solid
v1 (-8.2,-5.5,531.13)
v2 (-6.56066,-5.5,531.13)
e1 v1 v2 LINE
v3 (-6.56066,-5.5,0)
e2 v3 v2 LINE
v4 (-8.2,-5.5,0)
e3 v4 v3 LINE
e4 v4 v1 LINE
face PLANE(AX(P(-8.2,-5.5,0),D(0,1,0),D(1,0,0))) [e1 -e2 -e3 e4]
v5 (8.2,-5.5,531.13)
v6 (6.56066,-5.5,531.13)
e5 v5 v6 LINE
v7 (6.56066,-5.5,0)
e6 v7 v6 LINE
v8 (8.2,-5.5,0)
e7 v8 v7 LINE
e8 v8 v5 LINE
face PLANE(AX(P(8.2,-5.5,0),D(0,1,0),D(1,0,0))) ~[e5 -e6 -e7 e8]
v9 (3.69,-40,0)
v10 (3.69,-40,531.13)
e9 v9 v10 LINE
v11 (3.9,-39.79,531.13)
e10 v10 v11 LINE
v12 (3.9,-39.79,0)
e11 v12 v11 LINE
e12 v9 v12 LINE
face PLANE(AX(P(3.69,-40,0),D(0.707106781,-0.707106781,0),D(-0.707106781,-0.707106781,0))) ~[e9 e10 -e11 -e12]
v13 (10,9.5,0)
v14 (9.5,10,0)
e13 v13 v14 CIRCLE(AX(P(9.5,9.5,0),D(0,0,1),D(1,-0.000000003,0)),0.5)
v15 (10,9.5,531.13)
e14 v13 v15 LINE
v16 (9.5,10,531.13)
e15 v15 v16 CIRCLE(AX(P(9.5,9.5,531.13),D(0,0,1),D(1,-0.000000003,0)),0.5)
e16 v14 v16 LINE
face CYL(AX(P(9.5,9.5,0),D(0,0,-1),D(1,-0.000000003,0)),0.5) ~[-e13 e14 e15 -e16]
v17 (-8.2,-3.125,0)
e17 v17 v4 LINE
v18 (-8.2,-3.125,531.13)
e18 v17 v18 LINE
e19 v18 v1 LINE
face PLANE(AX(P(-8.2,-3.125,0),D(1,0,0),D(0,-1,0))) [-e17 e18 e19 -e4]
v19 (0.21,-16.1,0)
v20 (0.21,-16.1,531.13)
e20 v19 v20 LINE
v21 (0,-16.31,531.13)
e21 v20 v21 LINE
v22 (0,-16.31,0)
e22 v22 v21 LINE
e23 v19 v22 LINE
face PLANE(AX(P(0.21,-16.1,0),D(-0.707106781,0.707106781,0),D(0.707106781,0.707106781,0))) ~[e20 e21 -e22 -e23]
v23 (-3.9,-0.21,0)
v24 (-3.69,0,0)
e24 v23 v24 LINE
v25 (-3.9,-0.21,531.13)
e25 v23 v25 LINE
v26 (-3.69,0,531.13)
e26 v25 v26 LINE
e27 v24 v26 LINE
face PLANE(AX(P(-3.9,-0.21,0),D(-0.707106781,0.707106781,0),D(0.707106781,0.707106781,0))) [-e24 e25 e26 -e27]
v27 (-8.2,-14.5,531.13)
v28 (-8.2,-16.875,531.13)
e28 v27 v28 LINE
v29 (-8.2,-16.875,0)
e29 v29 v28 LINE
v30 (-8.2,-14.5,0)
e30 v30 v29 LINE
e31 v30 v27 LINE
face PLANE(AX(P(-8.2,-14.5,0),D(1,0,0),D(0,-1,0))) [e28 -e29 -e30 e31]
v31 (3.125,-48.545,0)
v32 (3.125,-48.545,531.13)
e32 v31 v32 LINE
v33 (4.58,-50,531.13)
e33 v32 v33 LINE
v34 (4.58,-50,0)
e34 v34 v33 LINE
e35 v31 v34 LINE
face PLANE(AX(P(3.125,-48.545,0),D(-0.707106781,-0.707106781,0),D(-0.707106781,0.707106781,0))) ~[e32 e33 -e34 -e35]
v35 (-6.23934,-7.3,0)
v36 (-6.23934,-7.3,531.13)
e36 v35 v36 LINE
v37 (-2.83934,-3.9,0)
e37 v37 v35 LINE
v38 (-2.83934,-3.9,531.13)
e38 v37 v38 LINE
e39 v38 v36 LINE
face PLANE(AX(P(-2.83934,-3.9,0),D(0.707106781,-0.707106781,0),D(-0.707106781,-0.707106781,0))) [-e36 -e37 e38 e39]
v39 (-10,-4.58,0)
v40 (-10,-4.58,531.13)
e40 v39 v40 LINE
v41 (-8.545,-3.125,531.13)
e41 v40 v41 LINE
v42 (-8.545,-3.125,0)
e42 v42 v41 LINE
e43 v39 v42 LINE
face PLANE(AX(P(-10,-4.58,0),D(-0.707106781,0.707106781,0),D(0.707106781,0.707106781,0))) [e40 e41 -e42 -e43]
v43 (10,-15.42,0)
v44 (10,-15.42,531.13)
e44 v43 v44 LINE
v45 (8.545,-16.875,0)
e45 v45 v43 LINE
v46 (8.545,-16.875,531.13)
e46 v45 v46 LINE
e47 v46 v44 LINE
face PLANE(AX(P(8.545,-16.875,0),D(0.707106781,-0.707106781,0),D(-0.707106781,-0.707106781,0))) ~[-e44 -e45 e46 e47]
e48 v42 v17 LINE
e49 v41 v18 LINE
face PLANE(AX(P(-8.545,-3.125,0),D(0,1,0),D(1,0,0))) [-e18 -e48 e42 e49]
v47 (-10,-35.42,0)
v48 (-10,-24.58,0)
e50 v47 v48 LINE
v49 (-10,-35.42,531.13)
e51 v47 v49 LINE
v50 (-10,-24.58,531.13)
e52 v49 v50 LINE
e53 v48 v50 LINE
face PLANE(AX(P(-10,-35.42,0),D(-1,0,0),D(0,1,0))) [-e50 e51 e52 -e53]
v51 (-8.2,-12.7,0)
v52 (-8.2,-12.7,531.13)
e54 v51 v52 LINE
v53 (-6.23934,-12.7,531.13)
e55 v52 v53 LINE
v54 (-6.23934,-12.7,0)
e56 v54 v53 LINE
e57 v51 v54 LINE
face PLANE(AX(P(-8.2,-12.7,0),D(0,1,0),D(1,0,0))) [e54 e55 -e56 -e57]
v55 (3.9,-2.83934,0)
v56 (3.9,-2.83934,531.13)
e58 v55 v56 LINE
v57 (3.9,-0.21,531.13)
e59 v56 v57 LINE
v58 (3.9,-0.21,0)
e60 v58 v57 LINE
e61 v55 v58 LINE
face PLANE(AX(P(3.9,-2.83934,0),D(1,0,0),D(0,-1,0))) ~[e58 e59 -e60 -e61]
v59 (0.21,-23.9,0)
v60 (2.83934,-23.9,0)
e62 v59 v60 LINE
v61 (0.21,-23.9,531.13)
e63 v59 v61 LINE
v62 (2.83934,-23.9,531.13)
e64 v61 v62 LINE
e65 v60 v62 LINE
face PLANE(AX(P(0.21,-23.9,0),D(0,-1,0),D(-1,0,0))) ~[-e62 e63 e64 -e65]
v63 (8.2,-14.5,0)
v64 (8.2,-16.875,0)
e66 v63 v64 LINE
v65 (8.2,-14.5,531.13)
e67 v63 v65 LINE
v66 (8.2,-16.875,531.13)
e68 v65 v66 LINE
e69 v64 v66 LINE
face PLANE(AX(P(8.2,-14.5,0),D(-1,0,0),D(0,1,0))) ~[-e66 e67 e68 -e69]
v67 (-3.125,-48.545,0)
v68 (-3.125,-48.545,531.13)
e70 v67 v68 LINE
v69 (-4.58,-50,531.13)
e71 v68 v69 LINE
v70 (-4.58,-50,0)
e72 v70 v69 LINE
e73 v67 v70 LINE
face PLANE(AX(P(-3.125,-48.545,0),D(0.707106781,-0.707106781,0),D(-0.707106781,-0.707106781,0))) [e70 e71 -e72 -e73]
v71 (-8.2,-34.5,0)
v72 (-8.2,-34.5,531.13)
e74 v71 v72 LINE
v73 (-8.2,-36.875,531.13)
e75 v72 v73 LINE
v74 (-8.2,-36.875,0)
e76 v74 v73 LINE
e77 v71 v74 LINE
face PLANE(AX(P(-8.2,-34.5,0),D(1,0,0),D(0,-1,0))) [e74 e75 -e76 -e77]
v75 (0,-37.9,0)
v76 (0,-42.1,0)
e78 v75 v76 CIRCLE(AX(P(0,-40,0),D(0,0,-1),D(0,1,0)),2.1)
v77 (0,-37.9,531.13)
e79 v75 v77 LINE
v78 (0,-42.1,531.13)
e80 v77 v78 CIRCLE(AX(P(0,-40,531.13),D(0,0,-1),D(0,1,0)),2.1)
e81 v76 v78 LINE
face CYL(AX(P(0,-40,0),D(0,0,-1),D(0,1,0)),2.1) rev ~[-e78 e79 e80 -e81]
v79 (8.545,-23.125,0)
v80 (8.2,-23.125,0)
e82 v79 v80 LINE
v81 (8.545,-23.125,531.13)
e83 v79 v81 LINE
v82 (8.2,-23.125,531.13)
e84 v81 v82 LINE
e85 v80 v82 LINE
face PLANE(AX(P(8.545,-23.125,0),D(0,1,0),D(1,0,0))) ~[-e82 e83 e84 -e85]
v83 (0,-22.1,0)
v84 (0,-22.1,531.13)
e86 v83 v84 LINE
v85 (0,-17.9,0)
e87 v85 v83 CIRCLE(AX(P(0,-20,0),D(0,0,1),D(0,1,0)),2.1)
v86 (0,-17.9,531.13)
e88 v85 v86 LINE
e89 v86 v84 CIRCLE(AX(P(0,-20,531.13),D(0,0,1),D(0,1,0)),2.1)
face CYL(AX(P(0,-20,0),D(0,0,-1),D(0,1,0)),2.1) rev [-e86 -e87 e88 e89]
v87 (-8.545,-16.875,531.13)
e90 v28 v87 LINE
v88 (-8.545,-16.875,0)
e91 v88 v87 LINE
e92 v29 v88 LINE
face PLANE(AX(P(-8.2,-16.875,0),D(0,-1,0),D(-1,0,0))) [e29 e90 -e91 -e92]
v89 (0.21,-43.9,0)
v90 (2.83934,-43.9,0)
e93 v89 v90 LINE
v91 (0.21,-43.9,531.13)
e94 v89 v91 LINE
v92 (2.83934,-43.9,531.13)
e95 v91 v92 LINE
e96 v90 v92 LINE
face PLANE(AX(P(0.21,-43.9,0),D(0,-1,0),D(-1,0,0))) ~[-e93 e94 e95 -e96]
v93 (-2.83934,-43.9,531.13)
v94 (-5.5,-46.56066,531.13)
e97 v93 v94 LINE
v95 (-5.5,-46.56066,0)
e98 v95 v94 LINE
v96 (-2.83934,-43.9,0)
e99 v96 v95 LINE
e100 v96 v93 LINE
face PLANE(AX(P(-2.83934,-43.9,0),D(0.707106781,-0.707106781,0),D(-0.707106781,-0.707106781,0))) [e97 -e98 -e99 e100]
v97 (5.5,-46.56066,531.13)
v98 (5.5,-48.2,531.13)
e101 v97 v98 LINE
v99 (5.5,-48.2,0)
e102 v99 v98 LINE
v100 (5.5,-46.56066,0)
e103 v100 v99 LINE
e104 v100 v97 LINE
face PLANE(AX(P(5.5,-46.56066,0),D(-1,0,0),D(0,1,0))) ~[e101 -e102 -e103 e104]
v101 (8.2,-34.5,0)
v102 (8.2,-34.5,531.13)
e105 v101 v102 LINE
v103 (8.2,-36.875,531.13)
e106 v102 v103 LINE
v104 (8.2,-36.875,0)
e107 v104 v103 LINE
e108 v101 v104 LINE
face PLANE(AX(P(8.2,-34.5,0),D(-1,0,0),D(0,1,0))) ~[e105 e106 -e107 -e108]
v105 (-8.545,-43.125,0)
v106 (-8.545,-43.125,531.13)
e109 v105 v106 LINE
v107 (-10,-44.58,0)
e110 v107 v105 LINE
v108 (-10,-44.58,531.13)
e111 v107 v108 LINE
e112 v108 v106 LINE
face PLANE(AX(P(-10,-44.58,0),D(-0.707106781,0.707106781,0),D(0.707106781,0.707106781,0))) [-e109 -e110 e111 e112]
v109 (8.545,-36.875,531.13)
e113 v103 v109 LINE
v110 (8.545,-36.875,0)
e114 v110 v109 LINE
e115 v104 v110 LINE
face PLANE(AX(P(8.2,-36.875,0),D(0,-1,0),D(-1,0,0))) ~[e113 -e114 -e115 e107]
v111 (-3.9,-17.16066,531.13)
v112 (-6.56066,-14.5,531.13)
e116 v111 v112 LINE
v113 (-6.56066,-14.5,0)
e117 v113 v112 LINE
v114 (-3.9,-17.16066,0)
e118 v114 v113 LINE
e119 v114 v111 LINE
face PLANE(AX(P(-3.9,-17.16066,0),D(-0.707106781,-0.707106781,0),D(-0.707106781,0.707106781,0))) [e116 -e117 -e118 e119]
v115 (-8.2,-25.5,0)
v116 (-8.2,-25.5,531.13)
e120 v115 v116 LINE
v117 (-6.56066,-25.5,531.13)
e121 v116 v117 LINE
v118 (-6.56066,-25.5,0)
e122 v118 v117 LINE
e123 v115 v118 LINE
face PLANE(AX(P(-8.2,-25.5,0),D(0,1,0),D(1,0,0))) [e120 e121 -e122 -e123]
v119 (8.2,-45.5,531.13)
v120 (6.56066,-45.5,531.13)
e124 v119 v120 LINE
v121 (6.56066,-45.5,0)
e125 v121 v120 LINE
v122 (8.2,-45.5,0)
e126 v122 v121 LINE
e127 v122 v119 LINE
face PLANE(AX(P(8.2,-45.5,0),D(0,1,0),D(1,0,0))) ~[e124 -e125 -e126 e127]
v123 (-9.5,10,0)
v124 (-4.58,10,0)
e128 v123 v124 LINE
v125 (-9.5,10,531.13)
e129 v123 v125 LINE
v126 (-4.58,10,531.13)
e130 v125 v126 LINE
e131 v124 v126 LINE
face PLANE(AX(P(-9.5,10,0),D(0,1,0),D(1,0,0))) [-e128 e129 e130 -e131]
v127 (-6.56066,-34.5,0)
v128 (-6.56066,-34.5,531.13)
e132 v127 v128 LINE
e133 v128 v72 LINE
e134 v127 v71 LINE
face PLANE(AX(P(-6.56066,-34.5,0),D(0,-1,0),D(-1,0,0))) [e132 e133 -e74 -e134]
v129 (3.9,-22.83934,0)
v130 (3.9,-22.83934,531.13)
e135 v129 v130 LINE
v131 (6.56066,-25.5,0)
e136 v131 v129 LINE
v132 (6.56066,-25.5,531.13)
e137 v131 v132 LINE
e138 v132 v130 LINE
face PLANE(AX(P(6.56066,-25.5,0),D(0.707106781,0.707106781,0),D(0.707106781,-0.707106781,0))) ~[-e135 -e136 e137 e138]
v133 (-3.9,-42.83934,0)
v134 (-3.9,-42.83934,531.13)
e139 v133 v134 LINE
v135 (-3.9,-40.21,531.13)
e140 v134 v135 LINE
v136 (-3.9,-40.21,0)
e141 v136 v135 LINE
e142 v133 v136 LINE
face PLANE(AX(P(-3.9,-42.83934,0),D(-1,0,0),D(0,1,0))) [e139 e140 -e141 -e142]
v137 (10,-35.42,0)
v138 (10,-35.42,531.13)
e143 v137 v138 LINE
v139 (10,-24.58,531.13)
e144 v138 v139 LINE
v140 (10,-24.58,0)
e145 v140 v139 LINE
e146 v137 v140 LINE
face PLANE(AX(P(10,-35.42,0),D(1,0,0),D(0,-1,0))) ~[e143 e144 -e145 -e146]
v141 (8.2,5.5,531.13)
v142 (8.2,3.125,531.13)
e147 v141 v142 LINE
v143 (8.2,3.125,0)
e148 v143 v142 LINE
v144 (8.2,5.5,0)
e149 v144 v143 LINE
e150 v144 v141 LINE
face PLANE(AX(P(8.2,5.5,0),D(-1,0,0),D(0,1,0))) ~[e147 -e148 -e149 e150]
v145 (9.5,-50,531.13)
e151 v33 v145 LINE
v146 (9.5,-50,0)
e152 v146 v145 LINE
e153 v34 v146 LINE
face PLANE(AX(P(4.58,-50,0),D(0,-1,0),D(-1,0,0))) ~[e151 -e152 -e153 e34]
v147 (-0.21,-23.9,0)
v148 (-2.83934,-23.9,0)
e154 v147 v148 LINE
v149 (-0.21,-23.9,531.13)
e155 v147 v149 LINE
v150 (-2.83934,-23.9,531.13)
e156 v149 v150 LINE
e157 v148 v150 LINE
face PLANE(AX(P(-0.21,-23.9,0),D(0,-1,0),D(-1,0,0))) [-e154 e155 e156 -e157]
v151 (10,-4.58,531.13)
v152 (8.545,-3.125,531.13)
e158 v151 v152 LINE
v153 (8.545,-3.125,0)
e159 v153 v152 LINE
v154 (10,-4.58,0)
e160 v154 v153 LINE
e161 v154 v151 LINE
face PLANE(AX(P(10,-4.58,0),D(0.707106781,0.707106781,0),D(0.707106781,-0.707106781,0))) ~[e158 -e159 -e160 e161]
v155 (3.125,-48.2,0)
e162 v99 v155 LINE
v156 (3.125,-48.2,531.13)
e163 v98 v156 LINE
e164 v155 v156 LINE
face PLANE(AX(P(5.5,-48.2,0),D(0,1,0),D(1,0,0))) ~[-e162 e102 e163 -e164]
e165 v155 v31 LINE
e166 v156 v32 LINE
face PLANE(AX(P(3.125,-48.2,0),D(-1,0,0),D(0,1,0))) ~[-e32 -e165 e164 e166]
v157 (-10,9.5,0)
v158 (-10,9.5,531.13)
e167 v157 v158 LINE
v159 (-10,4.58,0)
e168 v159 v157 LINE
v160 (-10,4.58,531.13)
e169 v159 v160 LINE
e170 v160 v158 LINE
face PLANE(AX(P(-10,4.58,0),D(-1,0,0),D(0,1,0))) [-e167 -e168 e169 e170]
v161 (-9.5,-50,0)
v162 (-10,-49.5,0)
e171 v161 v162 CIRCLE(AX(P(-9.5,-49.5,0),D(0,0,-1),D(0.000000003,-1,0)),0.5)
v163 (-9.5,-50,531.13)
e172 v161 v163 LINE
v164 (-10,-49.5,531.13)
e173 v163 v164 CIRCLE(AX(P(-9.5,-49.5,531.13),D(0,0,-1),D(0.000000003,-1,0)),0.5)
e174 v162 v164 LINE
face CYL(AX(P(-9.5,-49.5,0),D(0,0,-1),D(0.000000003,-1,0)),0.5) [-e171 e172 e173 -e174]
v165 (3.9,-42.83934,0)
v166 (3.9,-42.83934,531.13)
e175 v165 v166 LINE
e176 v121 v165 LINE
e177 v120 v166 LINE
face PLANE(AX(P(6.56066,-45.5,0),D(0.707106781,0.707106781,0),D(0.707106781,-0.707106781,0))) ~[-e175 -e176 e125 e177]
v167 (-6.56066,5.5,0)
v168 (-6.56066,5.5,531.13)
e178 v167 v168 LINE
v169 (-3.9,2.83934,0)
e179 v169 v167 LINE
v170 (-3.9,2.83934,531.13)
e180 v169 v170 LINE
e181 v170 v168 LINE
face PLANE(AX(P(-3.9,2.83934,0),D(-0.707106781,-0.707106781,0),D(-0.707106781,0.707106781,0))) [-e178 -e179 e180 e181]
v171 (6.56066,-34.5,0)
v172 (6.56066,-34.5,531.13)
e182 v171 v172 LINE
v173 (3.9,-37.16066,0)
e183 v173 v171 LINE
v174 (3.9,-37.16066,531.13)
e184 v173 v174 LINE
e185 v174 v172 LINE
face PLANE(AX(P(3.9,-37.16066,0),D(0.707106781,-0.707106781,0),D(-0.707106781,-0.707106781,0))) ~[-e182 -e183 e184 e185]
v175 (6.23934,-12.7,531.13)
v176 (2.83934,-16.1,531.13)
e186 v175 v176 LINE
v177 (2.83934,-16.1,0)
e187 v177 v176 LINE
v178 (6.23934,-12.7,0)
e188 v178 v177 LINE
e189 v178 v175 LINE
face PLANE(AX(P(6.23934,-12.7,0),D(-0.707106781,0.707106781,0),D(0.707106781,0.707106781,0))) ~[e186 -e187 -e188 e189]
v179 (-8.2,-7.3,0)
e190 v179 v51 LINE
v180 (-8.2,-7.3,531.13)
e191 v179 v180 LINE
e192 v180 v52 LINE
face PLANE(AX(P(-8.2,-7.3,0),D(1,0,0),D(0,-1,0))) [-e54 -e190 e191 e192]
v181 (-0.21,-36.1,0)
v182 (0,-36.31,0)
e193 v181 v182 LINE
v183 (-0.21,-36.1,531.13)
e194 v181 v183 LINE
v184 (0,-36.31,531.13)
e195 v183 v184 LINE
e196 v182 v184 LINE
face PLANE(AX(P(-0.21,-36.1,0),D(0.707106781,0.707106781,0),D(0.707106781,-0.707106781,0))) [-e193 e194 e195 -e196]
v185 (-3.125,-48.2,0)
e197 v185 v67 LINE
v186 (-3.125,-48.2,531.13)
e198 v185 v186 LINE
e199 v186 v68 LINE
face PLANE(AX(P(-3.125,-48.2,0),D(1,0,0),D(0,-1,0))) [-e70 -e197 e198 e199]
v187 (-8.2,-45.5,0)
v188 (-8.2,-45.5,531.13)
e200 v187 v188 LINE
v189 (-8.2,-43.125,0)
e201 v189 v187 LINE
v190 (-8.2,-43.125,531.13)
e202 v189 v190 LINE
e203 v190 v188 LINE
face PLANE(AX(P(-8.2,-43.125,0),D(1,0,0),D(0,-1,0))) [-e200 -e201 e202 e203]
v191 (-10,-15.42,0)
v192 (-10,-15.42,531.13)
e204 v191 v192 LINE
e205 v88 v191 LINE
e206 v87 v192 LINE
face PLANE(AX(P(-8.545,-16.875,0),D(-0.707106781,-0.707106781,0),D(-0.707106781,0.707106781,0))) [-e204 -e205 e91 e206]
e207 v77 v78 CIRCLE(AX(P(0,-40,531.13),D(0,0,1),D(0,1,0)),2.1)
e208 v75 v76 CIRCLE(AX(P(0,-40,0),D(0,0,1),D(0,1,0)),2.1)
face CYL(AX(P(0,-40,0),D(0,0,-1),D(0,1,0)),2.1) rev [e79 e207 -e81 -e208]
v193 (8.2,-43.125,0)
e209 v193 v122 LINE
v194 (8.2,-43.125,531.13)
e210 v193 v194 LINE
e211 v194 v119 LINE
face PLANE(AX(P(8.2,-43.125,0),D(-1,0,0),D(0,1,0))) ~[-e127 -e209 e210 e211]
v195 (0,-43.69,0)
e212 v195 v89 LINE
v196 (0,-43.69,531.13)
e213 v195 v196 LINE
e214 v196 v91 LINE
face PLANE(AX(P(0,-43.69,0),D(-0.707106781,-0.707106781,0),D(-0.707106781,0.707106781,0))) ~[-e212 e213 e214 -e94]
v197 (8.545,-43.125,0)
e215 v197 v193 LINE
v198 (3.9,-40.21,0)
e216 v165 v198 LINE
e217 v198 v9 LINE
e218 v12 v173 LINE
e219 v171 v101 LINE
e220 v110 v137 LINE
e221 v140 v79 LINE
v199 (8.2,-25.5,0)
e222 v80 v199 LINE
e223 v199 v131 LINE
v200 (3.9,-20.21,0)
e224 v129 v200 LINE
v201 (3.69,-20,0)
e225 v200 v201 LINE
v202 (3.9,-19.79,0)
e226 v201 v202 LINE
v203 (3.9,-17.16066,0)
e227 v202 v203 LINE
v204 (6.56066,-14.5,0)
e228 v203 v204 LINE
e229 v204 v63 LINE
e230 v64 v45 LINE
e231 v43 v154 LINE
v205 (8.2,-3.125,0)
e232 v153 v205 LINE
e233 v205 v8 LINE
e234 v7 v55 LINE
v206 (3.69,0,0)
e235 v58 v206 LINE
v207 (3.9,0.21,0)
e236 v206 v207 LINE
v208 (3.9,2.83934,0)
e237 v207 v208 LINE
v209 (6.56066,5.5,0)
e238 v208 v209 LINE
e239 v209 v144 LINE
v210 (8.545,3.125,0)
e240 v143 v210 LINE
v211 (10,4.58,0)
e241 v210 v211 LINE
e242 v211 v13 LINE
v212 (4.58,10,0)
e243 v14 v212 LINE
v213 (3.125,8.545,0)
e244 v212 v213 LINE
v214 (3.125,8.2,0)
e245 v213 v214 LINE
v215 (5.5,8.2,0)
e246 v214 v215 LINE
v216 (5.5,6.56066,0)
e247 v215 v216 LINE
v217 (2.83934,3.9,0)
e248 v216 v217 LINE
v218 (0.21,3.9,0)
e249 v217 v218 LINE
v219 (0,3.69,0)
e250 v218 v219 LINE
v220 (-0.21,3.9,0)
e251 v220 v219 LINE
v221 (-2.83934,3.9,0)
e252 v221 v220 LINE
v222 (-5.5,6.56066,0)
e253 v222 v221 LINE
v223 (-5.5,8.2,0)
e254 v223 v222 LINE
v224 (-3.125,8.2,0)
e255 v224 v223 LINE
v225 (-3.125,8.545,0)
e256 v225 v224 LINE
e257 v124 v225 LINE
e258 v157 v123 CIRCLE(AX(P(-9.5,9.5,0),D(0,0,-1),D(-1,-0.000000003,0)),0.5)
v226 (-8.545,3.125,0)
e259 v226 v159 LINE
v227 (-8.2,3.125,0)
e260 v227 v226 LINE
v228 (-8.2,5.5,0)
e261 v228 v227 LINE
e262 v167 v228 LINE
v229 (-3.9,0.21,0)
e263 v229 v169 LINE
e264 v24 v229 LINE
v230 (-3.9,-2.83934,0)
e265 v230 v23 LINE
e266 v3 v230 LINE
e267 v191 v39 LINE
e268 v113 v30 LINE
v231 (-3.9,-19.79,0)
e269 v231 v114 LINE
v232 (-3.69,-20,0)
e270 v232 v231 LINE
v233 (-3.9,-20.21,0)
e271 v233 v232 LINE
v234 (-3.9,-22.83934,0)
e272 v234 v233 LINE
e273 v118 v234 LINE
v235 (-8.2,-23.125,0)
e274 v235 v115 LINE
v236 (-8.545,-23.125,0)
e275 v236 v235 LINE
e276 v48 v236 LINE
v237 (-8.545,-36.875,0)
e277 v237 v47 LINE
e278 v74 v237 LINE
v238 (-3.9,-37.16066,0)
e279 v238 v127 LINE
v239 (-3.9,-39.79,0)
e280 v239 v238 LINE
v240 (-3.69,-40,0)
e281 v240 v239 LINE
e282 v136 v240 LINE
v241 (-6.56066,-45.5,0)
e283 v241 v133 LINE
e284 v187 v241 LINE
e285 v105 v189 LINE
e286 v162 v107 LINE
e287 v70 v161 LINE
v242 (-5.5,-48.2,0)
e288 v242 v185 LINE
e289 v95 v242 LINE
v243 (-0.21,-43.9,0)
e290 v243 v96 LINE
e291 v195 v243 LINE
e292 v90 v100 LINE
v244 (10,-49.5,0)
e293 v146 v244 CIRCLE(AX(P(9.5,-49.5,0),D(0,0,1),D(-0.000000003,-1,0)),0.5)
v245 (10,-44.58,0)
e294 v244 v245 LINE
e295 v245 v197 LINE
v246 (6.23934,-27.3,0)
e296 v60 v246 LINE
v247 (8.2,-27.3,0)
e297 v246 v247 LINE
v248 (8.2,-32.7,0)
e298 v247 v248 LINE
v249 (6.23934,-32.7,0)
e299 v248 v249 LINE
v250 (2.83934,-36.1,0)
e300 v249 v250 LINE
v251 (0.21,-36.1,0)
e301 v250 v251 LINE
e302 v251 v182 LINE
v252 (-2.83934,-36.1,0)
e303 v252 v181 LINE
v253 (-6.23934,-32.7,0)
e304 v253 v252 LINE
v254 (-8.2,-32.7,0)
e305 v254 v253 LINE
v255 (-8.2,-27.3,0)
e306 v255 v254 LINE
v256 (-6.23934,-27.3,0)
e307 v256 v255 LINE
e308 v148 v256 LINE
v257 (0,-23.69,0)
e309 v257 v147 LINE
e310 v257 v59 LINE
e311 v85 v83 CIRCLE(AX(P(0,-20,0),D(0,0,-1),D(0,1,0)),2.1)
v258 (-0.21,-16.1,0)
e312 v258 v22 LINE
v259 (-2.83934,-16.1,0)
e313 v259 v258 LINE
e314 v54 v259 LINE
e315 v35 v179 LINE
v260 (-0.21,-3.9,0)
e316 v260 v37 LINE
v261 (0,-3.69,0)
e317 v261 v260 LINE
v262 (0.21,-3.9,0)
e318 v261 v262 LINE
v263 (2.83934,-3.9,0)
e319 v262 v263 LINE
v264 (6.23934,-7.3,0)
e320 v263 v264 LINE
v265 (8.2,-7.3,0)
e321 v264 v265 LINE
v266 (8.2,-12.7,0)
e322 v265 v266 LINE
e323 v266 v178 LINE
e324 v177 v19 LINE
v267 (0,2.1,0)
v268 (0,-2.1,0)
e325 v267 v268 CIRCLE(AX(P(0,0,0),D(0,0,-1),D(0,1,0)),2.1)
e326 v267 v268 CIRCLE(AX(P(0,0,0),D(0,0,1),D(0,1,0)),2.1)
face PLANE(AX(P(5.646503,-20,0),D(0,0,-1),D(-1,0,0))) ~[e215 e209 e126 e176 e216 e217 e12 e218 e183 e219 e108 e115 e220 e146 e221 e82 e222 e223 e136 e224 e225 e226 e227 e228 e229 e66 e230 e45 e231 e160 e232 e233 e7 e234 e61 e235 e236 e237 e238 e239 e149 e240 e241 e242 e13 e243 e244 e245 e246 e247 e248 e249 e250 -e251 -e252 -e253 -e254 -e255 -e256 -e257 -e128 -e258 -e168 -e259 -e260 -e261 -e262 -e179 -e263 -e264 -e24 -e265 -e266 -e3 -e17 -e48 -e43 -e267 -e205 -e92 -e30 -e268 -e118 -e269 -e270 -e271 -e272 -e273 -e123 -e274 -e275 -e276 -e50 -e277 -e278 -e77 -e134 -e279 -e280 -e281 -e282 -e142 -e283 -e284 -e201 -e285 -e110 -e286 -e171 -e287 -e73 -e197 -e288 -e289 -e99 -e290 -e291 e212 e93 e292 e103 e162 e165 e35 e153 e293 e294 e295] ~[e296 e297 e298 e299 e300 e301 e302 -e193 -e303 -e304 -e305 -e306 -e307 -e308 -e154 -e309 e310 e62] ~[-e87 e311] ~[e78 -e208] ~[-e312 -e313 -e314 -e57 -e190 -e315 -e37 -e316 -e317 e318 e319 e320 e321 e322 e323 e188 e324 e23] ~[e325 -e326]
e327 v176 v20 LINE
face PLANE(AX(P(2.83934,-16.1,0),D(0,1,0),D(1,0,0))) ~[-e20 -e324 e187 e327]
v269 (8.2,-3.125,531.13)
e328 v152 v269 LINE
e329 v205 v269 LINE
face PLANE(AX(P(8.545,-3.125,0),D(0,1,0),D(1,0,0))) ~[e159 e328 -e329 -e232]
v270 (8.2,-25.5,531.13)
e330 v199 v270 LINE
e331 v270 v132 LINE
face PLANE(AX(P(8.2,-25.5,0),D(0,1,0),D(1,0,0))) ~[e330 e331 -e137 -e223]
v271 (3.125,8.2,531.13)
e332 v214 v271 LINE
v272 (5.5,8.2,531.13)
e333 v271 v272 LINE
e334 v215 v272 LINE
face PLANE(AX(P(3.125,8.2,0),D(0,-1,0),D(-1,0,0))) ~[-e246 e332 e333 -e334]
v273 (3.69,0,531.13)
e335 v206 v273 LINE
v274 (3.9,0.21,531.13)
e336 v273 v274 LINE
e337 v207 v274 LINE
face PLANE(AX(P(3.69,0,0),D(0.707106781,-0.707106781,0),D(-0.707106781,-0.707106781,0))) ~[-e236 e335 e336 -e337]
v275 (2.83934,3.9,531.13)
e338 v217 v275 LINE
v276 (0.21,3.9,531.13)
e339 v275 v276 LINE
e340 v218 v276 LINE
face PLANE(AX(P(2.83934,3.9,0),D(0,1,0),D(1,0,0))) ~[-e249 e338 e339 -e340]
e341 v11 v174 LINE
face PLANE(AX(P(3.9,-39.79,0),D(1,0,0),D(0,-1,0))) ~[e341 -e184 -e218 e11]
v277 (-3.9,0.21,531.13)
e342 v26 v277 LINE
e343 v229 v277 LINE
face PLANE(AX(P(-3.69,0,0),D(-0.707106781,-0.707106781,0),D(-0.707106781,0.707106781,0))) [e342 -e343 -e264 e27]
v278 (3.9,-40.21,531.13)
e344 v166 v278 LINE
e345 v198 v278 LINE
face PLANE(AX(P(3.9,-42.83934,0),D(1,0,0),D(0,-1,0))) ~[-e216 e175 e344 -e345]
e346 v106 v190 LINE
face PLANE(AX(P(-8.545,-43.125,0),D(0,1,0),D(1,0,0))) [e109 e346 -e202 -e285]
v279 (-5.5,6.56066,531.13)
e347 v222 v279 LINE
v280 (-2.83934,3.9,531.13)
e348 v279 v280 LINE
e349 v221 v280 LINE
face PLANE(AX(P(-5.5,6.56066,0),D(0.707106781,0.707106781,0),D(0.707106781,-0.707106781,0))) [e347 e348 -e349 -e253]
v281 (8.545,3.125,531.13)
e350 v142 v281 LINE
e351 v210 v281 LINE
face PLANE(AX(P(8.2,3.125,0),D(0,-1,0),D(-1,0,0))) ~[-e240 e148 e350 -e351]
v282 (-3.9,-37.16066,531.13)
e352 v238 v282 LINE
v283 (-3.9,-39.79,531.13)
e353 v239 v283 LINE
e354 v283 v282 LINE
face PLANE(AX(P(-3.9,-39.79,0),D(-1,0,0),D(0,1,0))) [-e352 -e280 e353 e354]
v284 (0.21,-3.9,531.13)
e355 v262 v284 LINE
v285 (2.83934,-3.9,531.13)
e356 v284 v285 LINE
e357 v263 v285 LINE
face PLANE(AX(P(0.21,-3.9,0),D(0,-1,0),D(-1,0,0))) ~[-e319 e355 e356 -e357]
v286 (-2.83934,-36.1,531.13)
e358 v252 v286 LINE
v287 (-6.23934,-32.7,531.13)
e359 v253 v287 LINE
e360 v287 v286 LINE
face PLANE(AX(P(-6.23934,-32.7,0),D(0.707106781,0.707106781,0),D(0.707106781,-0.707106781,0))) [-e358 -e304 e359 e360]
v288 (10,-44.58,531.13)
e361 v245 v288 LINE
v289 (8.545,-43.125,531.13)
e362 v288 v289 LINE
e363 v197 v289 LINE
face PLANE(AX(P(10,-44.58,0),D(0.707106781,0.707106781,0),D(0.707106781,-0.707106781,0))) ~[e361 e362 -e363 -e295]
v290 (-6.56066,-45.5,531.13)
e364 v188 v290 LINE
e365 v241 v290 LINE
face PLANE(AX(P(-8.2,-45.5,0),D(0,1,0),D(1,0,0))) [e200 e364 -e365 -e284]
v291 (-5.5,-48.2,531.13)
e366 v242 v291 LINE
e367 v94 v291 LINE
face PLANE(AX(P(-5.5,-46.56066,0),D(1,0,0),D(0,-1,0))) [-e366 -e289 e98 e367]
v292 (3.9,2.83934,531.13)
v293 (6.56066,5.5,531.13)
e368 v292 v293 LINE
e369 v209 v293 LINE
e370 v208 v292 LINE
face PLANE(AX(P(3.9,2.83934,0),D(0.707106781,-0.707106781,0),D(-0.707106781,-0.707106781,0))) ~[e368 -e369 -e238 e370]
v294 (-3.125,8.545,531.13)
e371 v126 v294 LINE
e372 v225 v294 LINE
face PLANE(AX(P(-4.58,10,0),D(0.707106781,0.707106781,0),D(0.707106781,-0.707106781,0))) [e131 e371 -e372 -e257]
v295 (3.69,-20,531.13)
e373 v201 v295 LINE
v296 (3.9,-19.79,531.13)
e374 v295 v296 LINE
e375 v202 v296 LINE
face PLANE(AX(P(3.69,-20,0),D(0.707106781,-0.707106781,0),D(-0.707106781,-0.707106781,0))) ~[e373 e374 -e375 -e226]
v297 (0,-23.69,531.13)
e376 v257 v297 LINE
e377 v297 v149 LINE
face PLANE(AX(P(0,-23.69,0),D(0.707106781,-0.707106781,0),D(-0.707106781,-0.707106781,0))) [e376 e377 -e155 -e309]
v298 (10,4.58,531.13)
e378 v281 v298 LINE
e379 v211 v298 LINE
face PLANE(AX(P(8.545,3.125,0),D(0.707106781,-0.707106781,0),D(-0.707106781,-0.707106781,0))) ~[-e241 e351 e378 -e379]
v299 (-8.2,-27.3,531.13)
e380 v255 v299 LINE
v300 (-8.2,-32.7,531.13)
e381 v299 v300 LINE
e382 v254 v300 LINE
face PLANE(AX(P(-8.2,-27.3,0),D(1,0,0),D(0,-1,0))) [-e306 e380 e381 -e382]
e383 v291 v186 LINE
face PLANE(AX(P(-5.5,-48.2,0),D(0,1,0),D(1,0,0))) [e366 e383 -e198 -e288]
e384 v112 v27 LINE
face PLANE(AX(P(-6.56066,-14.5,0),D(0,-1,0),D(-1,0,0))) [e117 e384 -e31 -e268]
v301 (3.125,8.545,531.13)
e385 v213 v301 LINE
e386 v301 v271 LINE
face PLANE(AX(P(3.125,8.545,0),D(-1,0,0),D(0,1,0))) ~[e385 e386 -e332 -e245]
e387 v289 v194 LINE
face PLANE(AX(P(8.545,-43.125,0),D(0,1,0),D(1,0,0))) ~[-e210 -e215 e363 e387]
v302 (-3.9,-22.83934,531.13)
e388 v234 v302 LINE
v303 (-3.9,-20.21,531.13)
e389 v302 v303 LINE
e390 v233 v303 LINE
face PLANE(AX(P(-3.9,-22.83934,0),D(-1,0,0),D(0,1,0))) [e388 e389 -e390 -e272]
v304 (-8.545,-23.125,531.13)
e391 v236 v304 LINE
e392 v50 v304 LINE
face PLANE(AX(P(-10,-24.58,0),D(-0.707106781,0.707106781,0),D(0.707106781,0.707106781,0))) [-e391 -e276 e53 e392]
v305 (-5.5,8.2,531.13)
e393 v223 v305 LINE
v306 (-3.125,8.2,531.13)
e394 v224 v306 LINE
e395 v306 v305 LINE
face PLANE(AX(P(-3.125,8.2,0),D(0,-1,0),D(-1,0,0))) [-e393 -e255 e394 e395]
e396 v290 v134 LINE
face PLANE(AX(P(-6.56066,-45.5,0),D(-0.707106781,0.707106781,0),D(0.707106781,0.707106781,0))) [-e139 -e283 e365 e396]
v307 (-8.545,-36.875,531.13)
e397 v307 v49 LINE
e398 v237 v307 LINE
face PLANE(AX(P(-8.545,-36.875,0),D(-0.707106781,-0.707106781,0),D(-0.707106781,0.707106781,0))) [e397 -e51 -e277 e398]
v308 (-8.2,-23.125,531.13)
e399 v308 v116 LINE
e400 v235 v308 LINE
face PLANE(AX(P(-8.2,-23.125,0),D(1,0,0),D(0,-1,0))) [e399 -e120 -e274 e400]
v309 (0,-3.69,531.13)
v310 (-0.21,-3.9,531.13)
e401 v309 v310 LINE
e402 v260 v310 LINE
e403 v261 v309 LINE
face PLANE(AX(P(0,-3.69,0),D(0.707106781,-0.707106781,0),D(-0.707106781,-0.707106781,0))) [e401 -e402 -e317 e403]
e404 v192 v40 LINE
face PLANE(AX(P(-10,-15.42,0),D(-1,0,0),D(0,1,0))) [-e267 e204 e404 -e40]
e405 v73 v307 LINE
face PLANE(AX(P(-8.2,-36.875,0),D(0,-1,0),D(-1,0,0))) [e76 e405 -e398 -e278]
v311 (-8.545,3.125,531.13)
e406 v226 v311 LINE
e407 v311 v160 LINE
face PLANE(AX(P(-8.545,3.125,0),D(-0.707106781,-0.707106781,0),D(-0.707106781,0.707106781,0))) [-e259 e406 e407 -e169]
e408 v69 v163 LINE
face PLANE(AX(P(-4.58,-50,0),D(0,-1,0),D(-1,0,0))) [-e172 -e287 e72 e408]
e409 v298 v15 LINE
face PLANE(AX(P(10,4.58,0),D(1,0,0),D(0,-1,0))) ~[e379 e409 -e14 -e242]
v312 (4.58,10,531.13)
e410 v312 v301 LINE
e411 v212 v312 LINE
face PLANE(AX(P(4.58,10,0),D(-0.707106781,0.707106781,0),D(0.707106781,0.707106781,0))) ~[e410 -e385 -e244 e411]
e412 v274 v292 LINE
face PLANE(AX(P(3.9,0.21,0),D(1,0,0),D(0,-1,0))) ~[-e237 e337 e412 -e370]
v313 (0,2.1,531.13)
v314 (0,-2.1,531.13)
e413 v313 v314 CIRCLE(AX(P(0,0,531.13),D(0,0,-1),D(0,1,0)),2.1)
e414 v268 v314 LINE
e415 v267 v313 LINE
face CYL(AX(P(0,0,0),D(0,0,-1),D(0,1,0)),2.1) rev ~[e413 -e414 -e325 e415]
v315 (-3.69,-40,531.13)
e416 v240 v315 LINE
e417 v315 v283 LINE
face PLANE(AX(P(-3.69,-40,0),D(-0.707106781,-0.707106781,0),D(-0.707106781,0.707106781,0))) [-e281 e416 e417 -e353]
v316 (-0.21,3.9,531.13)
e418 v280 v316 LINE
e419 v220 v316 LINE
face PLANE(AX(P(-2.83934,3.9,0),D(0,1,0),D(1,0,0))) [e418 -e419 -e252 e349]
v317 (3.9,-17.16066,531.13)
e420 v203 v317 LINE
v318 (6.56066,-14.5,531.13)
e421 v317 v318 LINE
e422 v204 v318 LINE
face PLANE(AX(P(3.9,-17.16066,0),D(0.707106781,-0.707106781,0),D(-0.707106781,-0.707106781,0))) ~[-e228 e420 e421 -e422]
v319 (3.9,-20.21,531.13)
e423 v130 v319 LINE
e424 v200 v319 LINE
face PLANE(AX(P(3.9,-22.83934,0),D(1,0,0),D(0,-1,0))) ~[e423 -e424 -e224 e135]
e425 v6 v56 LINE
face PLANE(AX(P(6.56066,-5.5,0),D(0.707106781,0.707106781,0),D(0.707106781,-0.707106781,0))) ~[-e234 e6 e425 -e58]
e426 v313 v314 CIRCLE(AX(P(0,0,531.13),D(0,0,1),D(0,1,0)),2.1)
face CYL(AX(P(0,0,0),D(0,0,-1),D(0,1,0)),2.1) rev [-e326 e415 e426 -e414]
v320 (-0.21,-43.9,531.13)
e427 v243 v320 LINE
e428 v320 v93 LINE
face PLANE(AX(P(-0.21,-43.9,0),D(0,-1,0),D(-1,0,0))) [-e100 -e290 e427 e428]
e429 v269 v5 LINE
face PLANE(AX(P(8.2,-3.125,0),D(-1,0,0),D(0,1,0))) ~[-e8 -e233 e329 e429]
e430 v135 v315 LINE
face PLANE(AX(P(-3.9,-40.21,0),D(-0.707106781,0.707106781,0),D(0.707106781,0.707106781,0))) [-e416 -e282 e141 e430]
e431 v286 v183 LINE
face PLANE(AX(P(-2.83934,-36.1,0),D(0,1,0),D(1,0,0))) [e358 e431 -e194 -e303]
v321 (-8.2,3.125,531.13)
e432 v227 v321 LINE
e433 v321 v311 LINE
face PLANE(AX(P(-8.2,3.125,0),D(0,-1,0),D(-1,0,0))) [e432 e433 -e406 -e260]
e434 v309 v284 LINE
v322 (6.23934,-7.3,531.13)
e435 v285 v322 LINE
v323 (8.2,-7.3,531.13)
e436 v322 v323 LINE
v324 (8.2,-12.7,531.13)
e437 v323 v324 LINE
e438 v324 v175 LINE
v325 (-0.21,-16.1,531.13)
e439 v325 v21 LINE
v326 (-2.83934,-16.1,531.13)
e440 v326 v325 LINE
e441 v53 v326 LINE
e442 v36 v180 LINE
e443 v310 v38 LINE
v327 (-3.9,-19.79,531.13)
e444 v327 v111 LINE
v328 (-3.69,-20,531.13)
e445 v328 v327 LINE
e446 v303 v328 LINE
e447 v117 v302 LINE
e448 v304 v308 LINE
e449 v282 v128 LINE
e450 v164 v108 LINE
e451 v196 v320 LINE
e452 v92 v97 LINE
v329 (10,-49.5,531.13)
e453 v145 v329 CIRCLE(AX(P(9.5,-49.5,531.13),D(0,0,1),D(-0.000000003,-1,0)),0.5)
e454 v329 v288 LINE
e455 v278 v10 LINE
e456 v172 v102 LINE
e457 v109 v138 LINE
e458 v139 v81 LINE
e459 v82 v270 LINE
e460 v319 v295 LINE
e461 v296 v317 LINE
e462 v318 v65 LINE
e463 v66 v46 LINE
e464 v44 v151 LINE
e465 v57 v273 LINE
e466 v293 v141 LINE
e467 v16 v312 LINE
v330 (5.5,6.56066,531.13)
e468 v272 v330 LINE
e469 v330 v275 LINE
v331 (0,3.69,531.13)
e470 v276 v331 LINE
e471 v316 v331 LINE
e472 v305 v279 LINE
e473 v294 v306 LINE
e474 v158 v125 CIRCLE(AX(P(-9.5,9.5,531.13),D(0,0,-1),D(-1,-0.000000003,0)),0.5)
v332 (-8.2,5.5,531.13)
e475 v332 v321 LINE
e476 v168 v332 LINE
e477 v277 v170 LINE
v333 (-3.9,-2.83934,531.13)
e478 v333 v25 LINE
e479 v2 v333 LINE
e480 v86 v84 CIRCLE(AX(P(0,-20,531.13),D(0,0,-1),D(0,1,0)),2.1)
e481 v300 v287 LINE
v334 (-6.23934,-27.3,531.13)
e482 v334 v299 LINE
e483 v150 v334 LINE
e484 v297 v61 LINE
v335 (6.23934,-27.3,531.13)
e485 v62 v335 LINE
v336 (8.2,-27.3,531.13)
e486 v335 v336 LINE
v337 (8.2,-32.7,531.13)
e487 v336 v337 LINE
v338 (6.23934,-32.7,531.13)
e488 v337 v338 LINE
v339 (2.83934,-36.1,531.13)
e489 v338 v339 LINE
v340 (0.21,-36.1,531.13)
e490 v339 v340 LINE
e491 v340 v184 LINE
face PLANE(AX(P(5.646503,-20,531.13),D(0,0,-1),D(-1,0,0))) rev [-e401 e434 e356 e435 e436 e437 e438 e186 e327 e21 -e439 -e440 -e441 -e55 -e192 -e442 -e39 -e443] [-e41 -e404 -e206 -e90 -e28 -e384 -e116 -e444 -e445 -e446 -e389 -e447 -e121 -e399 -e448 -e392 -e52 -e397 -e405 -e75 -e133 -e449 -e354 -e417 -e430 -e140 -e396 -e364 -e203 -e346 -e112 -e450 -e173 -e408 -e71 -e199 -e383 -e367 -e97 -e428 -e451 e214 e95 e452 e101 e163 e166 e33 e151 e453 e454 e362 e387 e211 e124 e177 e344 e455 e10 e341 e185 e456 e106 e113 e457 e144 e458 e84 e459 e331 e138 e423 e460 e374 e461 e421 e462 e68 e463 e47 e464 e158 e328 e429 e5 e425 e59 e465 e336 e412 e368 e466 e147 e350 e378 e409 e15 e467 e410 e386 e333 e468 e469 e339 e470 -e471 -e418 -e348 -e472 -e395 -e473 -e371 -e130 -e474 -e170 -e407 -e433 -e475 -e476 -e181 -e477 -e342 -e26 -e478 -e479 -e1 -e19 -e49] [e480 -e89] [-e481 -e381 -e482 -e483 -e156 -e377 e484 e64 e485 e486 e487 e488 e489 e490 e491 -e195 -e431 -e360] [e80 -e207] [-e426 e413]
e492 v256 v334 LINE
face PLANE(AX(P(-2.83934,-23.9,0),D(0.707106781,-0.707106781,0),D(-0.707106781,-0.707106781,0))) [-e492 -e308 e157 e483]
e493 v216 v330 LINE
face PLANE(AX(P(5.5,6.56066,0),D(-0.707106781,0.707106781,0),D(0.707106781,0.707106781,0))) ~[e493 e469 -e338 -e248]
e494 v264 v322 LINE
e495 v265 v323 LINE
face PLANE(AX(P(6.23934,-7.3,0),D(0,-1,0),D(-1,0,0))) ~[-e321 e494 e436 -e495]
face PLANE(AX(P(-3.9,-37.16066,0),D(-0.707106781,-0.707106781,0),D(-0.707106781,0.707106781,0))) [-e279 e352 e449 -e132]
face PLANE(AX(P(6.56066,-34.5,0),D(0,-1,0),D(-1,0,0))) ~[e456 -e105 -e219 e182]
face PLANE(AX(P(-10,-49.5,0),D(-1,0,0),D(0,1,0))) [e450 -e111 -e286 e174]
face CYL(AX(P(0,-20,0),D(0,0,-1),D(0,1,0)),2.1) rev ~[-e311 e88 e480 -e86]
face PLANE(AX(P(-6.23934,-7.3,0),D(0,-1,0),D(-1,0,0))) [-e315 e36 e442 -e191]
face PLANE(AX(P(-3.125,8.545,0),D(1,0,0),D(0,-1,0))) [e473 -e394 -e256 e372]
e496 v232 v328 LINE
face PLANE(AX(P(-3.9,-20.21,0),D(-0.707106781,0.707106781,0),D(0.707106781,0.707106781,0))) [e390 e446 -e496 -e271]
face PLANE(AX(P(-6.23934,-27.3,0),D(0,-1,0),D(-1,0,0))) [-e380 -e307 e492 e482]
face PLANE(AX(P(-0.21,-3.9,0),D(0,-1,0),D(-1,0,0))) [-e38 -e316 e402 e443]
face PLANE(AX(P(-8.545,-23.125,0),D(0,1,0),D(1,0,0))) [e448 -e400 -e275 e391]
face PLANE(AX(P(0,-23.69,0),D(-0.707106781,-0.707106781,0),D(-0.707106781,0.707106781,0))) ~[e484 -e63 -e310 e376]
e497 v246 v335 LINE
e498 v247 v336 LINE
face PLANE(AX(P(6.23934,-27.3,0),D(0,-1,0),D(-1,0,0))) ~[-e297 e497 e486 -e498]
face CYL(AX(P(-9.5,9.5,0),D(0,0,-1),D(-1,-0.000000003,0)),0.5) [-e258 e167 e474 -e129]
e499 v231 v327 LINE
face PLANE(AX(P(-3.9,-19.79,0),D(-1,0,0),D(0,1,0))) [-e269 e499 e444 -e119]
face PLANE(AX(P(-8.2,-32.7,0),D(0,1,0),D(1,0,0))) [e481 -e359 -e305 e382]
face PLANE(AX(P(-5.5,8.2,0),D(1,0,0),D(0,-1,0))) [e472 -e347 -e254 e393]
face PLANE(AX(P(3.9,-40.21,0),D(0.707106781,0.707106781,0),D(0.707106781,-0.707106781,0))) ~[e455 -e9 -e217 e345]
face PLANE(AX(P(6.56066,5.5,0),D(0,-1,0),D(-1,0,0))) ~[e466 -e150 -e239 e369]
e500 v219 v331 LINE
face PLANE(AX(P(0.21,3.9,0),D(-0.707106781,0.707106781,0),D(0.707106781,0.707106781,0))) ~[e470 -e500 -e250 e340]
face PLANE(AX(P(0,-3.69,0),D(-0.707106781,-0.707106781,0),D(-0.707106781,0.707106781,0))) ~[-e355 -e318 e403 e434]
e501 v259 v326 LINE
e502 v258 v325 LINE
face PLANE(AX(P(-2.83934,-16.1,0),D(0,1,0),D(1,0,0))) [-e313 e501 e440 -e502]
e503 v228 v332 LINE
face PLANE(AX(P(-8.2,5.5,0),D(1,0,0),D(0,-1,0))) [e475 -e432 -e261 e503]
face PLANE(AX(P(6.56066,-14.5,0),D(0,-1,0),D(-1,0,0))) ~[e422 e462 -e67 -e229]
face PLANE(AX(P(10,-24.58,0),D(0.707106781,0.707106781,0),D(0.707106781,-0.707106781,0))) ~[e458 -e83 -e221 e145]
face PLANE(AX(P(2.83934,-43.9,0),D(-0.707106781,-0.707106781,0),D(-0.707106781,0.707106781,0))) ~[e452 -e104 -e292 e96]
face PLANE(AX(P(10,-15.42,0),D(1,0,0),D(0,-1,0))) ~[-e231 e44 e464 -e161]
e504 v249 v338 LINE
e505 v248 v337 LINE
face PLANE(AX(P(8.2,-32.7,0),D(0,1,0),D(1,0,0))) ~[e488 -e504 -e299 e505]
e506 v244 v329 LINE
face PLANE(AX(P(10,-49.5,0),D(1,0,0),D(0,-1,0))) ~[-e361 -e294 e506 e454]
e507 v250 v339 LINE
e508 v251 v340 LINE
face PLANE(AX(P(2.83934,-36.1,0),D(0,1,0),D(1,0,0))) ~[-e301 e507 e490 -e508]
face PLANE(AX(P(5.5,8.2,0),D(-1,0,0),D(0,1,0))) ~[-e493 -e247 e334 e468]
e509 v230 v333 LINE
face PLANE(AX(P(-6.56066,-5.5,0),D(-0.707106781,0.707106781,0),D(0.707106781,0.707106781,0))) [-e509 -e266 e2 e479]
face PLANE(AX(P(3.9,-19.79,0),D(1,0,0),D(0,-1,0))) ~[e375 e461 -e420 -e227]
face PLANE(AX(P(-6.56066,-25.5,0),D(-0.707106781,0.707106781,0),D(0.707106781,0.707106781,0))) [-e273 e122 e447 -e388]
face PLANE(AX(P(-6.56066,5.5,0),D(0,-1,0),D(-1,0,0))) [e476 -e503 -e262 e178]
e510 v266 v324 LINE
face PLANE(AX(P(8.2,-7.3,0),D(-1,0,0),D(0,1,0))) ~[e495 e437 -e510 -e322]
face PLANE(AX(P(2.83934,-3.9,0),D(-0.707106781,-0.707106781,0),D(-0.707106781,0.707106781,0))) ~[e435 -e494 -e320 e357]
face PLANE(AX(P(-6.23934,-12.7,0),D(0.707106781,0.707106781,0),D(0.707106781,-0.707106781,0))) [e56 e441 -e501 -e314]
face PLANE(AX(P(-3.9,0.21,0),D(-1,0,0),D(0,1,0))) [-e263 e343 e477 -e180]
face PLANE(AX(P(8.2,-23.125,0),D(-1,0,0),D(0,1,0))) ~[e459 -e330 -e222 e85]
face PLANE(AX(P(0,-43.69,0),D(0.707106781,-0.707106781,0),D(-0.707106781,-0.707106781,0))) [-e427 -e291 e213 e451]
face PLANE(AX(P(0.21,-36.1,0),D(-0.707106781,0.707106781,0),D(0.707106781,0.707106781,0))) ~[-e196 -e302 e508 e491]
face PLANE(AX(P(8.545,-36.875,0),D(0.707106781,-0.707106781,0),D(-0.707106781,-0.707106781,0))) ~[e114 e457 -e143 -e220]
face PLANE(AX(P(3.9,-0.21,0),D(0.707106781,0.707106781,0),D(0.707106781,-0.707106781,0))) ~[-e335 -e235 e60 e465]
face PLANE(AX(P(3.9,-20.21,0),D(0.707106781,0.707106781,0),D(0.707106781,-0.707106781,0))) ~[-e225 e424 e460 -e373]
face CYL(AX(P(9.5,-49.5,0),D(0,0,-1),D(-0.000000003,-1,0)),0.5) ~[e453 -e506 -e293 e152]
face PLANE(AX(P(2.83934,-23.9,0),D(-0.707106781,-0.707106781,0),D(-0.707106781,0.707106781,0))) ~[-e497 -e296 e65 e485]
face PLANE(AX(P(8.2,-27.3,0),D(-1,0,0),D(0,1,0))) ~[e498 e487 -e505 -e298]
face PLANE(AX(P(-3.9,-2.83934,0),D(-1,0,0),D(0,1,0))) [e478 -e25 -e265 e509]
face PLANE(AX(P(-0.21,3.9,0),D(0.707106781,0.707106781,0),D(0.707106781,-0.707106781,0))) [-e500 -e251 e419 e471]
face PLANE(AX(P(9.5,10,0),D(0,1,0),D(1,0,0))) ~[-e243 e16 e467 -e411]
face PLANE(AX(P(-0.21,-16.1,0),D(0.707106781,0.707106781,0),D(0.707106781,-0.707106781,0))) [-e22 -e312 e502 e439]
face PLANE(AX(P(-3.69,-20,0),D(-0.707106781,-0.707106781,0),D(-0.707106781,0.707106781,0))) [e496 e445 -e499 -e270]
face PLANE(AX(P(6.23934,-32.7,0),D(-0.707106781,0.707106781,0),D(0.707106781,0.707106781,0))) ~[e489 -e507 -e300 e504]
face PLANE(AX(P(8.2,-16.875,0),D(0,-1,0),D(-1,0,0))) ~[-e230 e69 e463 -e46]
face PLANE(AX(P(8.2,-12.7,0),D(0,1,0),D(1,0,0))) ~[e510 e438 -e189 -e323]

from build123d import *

# Parameters (mm, degrees)
BOSS_EXTRU_1_DEPTH = 531.13


with BuildPart() as part:
    # Esquisse1 → Boss.-Extru.1 (new body)
    with BuildSketch(Plane.XY):
        with BuildLine():
            Line((-9.5, 10), (-4.58, 10))
            Line((-4.58, 10), (-3.125, 8.545))
            Line((-3.125, 8.545), (-3.125, 8.2))
            Line((-3.125, 8.2), (-5.5, 8.2))
            Line((-5.5, 8.2), (-5.5, 6.560660172))
            Line((-5.5, 6.560660172), (-2.839339828, 3.9))
            Line((-2.839339828, 3.9), (-0.21, 3.9))
            Line((-0.21, 3.9), (0, 3.69))
            Line((0, 3.69), (0, 2.1))
            ThreePointArc((0, 2.1), (-2.1, 0), (0, -2.1))
            Line((0, -2.1), (0, -3.69))
            Line((0, -3.69), (-0.21, -3.9))
            Line((-0.21, -3.9), (-2.839339828, -3.9))
            Line((-2.839339828, -3.9), (-6.239339828, -7.3))
            Line((-6.239339828, -7.3), (-8.2, -7.3))
            Line((-8.2, -7.3), (-8.2, -12.7))
            Line((-8.2, -12.7), (-6.239339828, -12.7))
            Line((-6.239339828, -12.7), (-2.839339828, -16.1))
            Line((-2.839339828, -16.1), (-0.21, -16.1))
            Line((-0.21, -16.1), (0, -16.31))
            Line((0, -16.31), (0, -17.9))
            ThreePointArc((0, -17.9), (-2.1, -20), (0, -22.1))
            Line((0, -22.1), (0, -23.69))
            Line((0, -23.69), (-0.21, -23.9))
            Line((-0.21, -23.9), (-2.839339828, -23.9))
            Line((-2.839339828, -23.9), (-6.239339828, -27.3))
            Line((-6.239339828, -27.3), (-8.2, -27.3))
            Line((-8.2, -27.3), (-8.2, -32.7))
            Line((-8.2, -32.7), (-6.239339828, -32.7))
            Line((-6.239339828, -32.7), (-2.839339828, -36.1))
            Line((-2.839339828, -36.1), (-0.21, -36.1))
            Line((-0.21, -36.1), (0, -36.31))
            Line((0, -36.31), (0, -37.9))
            ThreePointArc((0, -37.9), (-2.1, -40), (0, -42.1))
            Line((0, -42.1), (0, -43.69))
            Line((0, -43.69), (-0.21, -43.9))
            Line((-0.21, -43.9), (-2.839339828, -43.9))
            Line((-2.839339828, -43.9), (-5.5, -46.560660172))
            Line((-5.5, -46.560660172), (-5.5, -48.2))
            Line((-5.5, -48.2), (-3.125, -48.2))
            Line((-3.125, -48.2), (-3.125, -48.545))
            Line((-3.125, -48.545), (-4.58, -50))
            Line((-4.58, -50), (-9.5, -50))
            ThreePointArc((-9.5, -50), (-9.853553391, -49.853553391), (-10, -49.5))
            Line((-10, -49.5), (-10, -44.58))
            Line((-10, -44.58), (-8.545, -43.125))
            Line((-8.545, -43.125), (-8.2, -43.125))
            Line((-8.2, -43.125), (-8.2, -45.5))
            Line((-8.2, -45.5), (-6.560660172, -45.5))
            Line((-6.560660172, -45.5), (-3.9, -42.839339828))
            Line((-3.9, -42.839339828), (-3.9, -40.21))
            Line((-3.9, -40.21), (-3.69, -40))
            Line((-3.69, -40), (-3.9, -39.79))
            Line((-3.9, -39.79), (-3.9, -37.160660172))
            Line((-3.9, -37.160660172), (-6.560660172, -34.5))
            Line((-6.560660172, -34.5), (-8.2, -34.5))
            Line((-8.2, -34.5), (-8.2, -36.875))
            Line((-8.2, -36.875), (-8.545, -36.875))
            Line((-8.545, -36.875), (-10, -35.42))
            Line((-10, -35.42), (-10, -24.58))
            Line((-10, -24.58), (-8.545, -23.125))
            Line((-8.545, -23.125), (-8.2, -23.125))
            Line((-8.2, -23.125), (-8.2, -25.5))
            Line((-8.2, -25.5), (-6.560660172, -25.5))
            Line((-6.560660172, -25.5), (-3.9, -22.839339828))
            Line((-3.9, -22.839339828), (-3.9, -20.21))
            Line((-3.9, -20.21), (-3.69, -20))
            Line((-3.69, -20), (-3.9, -19.79))
            Line((-3.9, -19.79), (-3.9, -17.160660172))
            Line((-3.9, -17.160660172), (-6.560660172, -14.5))
            Line((-6.560660172, -14.5), (-8.2, -14.5))
            Line((-8.2, -14.5), (-8.2, -16.875))
            Line((-8.2, -16.875), (-8.545, -16.875))
            Line((-8.545, -16.875), (-10, -15.42))
            Line((-10, -15.42), (-10, -4.58))
            Line((-10, -4.58), (-8.545, -3.125))
            Line((-8.545, -3.125), (-8.2, -3.125))
            Line((-8.2, -3.125), (-8.2, -5.5))
            Line((-8.2, -5.5), (-6.560660172, -5.5))
            Line((-6.560660172, -5.5), (-3.9, -2.839339828))
            Line((-3.9, -2.839339828), (-3.9, -0.21))
            Line((-3.9, -0.21), (-3.69, 0))
            Line((-3.69, 0), (-3.9, 0.21))
            Line((-3.9, 0.21), (-3.9, 2.839339828))
            Line((-3.9, 2.839339828), (-6.560660172, 5.5))
            Line((-6.560660172, 5.5), (-8.2, 5.5))
            Line((-8.2, 5.5), (-8.2, 3.125))
            Line((-8.2, 3.125), (-8.545, 3.125))
            Line((-8.545, 3.125), (-10, 4.58))
            Line((-10, 4.58), (-10, 9.5))
            ThreePointArc((-10, 9.5), (-9.853553391, 9.853553391), (-9.5, 10))
        make_face()
    boss_extru_1 = extrude(amount=BOSS_EXTRU_1_DEPTH)

    # Symétrie1: Boss.-Extru.1 across plane
    add(boss_extru_1.mirror(Plane(origin=(0, 3.69, 531.13), x_dir=(0, 0, 1), z_dir=(-1, 0, 0))))


solid = part.part
